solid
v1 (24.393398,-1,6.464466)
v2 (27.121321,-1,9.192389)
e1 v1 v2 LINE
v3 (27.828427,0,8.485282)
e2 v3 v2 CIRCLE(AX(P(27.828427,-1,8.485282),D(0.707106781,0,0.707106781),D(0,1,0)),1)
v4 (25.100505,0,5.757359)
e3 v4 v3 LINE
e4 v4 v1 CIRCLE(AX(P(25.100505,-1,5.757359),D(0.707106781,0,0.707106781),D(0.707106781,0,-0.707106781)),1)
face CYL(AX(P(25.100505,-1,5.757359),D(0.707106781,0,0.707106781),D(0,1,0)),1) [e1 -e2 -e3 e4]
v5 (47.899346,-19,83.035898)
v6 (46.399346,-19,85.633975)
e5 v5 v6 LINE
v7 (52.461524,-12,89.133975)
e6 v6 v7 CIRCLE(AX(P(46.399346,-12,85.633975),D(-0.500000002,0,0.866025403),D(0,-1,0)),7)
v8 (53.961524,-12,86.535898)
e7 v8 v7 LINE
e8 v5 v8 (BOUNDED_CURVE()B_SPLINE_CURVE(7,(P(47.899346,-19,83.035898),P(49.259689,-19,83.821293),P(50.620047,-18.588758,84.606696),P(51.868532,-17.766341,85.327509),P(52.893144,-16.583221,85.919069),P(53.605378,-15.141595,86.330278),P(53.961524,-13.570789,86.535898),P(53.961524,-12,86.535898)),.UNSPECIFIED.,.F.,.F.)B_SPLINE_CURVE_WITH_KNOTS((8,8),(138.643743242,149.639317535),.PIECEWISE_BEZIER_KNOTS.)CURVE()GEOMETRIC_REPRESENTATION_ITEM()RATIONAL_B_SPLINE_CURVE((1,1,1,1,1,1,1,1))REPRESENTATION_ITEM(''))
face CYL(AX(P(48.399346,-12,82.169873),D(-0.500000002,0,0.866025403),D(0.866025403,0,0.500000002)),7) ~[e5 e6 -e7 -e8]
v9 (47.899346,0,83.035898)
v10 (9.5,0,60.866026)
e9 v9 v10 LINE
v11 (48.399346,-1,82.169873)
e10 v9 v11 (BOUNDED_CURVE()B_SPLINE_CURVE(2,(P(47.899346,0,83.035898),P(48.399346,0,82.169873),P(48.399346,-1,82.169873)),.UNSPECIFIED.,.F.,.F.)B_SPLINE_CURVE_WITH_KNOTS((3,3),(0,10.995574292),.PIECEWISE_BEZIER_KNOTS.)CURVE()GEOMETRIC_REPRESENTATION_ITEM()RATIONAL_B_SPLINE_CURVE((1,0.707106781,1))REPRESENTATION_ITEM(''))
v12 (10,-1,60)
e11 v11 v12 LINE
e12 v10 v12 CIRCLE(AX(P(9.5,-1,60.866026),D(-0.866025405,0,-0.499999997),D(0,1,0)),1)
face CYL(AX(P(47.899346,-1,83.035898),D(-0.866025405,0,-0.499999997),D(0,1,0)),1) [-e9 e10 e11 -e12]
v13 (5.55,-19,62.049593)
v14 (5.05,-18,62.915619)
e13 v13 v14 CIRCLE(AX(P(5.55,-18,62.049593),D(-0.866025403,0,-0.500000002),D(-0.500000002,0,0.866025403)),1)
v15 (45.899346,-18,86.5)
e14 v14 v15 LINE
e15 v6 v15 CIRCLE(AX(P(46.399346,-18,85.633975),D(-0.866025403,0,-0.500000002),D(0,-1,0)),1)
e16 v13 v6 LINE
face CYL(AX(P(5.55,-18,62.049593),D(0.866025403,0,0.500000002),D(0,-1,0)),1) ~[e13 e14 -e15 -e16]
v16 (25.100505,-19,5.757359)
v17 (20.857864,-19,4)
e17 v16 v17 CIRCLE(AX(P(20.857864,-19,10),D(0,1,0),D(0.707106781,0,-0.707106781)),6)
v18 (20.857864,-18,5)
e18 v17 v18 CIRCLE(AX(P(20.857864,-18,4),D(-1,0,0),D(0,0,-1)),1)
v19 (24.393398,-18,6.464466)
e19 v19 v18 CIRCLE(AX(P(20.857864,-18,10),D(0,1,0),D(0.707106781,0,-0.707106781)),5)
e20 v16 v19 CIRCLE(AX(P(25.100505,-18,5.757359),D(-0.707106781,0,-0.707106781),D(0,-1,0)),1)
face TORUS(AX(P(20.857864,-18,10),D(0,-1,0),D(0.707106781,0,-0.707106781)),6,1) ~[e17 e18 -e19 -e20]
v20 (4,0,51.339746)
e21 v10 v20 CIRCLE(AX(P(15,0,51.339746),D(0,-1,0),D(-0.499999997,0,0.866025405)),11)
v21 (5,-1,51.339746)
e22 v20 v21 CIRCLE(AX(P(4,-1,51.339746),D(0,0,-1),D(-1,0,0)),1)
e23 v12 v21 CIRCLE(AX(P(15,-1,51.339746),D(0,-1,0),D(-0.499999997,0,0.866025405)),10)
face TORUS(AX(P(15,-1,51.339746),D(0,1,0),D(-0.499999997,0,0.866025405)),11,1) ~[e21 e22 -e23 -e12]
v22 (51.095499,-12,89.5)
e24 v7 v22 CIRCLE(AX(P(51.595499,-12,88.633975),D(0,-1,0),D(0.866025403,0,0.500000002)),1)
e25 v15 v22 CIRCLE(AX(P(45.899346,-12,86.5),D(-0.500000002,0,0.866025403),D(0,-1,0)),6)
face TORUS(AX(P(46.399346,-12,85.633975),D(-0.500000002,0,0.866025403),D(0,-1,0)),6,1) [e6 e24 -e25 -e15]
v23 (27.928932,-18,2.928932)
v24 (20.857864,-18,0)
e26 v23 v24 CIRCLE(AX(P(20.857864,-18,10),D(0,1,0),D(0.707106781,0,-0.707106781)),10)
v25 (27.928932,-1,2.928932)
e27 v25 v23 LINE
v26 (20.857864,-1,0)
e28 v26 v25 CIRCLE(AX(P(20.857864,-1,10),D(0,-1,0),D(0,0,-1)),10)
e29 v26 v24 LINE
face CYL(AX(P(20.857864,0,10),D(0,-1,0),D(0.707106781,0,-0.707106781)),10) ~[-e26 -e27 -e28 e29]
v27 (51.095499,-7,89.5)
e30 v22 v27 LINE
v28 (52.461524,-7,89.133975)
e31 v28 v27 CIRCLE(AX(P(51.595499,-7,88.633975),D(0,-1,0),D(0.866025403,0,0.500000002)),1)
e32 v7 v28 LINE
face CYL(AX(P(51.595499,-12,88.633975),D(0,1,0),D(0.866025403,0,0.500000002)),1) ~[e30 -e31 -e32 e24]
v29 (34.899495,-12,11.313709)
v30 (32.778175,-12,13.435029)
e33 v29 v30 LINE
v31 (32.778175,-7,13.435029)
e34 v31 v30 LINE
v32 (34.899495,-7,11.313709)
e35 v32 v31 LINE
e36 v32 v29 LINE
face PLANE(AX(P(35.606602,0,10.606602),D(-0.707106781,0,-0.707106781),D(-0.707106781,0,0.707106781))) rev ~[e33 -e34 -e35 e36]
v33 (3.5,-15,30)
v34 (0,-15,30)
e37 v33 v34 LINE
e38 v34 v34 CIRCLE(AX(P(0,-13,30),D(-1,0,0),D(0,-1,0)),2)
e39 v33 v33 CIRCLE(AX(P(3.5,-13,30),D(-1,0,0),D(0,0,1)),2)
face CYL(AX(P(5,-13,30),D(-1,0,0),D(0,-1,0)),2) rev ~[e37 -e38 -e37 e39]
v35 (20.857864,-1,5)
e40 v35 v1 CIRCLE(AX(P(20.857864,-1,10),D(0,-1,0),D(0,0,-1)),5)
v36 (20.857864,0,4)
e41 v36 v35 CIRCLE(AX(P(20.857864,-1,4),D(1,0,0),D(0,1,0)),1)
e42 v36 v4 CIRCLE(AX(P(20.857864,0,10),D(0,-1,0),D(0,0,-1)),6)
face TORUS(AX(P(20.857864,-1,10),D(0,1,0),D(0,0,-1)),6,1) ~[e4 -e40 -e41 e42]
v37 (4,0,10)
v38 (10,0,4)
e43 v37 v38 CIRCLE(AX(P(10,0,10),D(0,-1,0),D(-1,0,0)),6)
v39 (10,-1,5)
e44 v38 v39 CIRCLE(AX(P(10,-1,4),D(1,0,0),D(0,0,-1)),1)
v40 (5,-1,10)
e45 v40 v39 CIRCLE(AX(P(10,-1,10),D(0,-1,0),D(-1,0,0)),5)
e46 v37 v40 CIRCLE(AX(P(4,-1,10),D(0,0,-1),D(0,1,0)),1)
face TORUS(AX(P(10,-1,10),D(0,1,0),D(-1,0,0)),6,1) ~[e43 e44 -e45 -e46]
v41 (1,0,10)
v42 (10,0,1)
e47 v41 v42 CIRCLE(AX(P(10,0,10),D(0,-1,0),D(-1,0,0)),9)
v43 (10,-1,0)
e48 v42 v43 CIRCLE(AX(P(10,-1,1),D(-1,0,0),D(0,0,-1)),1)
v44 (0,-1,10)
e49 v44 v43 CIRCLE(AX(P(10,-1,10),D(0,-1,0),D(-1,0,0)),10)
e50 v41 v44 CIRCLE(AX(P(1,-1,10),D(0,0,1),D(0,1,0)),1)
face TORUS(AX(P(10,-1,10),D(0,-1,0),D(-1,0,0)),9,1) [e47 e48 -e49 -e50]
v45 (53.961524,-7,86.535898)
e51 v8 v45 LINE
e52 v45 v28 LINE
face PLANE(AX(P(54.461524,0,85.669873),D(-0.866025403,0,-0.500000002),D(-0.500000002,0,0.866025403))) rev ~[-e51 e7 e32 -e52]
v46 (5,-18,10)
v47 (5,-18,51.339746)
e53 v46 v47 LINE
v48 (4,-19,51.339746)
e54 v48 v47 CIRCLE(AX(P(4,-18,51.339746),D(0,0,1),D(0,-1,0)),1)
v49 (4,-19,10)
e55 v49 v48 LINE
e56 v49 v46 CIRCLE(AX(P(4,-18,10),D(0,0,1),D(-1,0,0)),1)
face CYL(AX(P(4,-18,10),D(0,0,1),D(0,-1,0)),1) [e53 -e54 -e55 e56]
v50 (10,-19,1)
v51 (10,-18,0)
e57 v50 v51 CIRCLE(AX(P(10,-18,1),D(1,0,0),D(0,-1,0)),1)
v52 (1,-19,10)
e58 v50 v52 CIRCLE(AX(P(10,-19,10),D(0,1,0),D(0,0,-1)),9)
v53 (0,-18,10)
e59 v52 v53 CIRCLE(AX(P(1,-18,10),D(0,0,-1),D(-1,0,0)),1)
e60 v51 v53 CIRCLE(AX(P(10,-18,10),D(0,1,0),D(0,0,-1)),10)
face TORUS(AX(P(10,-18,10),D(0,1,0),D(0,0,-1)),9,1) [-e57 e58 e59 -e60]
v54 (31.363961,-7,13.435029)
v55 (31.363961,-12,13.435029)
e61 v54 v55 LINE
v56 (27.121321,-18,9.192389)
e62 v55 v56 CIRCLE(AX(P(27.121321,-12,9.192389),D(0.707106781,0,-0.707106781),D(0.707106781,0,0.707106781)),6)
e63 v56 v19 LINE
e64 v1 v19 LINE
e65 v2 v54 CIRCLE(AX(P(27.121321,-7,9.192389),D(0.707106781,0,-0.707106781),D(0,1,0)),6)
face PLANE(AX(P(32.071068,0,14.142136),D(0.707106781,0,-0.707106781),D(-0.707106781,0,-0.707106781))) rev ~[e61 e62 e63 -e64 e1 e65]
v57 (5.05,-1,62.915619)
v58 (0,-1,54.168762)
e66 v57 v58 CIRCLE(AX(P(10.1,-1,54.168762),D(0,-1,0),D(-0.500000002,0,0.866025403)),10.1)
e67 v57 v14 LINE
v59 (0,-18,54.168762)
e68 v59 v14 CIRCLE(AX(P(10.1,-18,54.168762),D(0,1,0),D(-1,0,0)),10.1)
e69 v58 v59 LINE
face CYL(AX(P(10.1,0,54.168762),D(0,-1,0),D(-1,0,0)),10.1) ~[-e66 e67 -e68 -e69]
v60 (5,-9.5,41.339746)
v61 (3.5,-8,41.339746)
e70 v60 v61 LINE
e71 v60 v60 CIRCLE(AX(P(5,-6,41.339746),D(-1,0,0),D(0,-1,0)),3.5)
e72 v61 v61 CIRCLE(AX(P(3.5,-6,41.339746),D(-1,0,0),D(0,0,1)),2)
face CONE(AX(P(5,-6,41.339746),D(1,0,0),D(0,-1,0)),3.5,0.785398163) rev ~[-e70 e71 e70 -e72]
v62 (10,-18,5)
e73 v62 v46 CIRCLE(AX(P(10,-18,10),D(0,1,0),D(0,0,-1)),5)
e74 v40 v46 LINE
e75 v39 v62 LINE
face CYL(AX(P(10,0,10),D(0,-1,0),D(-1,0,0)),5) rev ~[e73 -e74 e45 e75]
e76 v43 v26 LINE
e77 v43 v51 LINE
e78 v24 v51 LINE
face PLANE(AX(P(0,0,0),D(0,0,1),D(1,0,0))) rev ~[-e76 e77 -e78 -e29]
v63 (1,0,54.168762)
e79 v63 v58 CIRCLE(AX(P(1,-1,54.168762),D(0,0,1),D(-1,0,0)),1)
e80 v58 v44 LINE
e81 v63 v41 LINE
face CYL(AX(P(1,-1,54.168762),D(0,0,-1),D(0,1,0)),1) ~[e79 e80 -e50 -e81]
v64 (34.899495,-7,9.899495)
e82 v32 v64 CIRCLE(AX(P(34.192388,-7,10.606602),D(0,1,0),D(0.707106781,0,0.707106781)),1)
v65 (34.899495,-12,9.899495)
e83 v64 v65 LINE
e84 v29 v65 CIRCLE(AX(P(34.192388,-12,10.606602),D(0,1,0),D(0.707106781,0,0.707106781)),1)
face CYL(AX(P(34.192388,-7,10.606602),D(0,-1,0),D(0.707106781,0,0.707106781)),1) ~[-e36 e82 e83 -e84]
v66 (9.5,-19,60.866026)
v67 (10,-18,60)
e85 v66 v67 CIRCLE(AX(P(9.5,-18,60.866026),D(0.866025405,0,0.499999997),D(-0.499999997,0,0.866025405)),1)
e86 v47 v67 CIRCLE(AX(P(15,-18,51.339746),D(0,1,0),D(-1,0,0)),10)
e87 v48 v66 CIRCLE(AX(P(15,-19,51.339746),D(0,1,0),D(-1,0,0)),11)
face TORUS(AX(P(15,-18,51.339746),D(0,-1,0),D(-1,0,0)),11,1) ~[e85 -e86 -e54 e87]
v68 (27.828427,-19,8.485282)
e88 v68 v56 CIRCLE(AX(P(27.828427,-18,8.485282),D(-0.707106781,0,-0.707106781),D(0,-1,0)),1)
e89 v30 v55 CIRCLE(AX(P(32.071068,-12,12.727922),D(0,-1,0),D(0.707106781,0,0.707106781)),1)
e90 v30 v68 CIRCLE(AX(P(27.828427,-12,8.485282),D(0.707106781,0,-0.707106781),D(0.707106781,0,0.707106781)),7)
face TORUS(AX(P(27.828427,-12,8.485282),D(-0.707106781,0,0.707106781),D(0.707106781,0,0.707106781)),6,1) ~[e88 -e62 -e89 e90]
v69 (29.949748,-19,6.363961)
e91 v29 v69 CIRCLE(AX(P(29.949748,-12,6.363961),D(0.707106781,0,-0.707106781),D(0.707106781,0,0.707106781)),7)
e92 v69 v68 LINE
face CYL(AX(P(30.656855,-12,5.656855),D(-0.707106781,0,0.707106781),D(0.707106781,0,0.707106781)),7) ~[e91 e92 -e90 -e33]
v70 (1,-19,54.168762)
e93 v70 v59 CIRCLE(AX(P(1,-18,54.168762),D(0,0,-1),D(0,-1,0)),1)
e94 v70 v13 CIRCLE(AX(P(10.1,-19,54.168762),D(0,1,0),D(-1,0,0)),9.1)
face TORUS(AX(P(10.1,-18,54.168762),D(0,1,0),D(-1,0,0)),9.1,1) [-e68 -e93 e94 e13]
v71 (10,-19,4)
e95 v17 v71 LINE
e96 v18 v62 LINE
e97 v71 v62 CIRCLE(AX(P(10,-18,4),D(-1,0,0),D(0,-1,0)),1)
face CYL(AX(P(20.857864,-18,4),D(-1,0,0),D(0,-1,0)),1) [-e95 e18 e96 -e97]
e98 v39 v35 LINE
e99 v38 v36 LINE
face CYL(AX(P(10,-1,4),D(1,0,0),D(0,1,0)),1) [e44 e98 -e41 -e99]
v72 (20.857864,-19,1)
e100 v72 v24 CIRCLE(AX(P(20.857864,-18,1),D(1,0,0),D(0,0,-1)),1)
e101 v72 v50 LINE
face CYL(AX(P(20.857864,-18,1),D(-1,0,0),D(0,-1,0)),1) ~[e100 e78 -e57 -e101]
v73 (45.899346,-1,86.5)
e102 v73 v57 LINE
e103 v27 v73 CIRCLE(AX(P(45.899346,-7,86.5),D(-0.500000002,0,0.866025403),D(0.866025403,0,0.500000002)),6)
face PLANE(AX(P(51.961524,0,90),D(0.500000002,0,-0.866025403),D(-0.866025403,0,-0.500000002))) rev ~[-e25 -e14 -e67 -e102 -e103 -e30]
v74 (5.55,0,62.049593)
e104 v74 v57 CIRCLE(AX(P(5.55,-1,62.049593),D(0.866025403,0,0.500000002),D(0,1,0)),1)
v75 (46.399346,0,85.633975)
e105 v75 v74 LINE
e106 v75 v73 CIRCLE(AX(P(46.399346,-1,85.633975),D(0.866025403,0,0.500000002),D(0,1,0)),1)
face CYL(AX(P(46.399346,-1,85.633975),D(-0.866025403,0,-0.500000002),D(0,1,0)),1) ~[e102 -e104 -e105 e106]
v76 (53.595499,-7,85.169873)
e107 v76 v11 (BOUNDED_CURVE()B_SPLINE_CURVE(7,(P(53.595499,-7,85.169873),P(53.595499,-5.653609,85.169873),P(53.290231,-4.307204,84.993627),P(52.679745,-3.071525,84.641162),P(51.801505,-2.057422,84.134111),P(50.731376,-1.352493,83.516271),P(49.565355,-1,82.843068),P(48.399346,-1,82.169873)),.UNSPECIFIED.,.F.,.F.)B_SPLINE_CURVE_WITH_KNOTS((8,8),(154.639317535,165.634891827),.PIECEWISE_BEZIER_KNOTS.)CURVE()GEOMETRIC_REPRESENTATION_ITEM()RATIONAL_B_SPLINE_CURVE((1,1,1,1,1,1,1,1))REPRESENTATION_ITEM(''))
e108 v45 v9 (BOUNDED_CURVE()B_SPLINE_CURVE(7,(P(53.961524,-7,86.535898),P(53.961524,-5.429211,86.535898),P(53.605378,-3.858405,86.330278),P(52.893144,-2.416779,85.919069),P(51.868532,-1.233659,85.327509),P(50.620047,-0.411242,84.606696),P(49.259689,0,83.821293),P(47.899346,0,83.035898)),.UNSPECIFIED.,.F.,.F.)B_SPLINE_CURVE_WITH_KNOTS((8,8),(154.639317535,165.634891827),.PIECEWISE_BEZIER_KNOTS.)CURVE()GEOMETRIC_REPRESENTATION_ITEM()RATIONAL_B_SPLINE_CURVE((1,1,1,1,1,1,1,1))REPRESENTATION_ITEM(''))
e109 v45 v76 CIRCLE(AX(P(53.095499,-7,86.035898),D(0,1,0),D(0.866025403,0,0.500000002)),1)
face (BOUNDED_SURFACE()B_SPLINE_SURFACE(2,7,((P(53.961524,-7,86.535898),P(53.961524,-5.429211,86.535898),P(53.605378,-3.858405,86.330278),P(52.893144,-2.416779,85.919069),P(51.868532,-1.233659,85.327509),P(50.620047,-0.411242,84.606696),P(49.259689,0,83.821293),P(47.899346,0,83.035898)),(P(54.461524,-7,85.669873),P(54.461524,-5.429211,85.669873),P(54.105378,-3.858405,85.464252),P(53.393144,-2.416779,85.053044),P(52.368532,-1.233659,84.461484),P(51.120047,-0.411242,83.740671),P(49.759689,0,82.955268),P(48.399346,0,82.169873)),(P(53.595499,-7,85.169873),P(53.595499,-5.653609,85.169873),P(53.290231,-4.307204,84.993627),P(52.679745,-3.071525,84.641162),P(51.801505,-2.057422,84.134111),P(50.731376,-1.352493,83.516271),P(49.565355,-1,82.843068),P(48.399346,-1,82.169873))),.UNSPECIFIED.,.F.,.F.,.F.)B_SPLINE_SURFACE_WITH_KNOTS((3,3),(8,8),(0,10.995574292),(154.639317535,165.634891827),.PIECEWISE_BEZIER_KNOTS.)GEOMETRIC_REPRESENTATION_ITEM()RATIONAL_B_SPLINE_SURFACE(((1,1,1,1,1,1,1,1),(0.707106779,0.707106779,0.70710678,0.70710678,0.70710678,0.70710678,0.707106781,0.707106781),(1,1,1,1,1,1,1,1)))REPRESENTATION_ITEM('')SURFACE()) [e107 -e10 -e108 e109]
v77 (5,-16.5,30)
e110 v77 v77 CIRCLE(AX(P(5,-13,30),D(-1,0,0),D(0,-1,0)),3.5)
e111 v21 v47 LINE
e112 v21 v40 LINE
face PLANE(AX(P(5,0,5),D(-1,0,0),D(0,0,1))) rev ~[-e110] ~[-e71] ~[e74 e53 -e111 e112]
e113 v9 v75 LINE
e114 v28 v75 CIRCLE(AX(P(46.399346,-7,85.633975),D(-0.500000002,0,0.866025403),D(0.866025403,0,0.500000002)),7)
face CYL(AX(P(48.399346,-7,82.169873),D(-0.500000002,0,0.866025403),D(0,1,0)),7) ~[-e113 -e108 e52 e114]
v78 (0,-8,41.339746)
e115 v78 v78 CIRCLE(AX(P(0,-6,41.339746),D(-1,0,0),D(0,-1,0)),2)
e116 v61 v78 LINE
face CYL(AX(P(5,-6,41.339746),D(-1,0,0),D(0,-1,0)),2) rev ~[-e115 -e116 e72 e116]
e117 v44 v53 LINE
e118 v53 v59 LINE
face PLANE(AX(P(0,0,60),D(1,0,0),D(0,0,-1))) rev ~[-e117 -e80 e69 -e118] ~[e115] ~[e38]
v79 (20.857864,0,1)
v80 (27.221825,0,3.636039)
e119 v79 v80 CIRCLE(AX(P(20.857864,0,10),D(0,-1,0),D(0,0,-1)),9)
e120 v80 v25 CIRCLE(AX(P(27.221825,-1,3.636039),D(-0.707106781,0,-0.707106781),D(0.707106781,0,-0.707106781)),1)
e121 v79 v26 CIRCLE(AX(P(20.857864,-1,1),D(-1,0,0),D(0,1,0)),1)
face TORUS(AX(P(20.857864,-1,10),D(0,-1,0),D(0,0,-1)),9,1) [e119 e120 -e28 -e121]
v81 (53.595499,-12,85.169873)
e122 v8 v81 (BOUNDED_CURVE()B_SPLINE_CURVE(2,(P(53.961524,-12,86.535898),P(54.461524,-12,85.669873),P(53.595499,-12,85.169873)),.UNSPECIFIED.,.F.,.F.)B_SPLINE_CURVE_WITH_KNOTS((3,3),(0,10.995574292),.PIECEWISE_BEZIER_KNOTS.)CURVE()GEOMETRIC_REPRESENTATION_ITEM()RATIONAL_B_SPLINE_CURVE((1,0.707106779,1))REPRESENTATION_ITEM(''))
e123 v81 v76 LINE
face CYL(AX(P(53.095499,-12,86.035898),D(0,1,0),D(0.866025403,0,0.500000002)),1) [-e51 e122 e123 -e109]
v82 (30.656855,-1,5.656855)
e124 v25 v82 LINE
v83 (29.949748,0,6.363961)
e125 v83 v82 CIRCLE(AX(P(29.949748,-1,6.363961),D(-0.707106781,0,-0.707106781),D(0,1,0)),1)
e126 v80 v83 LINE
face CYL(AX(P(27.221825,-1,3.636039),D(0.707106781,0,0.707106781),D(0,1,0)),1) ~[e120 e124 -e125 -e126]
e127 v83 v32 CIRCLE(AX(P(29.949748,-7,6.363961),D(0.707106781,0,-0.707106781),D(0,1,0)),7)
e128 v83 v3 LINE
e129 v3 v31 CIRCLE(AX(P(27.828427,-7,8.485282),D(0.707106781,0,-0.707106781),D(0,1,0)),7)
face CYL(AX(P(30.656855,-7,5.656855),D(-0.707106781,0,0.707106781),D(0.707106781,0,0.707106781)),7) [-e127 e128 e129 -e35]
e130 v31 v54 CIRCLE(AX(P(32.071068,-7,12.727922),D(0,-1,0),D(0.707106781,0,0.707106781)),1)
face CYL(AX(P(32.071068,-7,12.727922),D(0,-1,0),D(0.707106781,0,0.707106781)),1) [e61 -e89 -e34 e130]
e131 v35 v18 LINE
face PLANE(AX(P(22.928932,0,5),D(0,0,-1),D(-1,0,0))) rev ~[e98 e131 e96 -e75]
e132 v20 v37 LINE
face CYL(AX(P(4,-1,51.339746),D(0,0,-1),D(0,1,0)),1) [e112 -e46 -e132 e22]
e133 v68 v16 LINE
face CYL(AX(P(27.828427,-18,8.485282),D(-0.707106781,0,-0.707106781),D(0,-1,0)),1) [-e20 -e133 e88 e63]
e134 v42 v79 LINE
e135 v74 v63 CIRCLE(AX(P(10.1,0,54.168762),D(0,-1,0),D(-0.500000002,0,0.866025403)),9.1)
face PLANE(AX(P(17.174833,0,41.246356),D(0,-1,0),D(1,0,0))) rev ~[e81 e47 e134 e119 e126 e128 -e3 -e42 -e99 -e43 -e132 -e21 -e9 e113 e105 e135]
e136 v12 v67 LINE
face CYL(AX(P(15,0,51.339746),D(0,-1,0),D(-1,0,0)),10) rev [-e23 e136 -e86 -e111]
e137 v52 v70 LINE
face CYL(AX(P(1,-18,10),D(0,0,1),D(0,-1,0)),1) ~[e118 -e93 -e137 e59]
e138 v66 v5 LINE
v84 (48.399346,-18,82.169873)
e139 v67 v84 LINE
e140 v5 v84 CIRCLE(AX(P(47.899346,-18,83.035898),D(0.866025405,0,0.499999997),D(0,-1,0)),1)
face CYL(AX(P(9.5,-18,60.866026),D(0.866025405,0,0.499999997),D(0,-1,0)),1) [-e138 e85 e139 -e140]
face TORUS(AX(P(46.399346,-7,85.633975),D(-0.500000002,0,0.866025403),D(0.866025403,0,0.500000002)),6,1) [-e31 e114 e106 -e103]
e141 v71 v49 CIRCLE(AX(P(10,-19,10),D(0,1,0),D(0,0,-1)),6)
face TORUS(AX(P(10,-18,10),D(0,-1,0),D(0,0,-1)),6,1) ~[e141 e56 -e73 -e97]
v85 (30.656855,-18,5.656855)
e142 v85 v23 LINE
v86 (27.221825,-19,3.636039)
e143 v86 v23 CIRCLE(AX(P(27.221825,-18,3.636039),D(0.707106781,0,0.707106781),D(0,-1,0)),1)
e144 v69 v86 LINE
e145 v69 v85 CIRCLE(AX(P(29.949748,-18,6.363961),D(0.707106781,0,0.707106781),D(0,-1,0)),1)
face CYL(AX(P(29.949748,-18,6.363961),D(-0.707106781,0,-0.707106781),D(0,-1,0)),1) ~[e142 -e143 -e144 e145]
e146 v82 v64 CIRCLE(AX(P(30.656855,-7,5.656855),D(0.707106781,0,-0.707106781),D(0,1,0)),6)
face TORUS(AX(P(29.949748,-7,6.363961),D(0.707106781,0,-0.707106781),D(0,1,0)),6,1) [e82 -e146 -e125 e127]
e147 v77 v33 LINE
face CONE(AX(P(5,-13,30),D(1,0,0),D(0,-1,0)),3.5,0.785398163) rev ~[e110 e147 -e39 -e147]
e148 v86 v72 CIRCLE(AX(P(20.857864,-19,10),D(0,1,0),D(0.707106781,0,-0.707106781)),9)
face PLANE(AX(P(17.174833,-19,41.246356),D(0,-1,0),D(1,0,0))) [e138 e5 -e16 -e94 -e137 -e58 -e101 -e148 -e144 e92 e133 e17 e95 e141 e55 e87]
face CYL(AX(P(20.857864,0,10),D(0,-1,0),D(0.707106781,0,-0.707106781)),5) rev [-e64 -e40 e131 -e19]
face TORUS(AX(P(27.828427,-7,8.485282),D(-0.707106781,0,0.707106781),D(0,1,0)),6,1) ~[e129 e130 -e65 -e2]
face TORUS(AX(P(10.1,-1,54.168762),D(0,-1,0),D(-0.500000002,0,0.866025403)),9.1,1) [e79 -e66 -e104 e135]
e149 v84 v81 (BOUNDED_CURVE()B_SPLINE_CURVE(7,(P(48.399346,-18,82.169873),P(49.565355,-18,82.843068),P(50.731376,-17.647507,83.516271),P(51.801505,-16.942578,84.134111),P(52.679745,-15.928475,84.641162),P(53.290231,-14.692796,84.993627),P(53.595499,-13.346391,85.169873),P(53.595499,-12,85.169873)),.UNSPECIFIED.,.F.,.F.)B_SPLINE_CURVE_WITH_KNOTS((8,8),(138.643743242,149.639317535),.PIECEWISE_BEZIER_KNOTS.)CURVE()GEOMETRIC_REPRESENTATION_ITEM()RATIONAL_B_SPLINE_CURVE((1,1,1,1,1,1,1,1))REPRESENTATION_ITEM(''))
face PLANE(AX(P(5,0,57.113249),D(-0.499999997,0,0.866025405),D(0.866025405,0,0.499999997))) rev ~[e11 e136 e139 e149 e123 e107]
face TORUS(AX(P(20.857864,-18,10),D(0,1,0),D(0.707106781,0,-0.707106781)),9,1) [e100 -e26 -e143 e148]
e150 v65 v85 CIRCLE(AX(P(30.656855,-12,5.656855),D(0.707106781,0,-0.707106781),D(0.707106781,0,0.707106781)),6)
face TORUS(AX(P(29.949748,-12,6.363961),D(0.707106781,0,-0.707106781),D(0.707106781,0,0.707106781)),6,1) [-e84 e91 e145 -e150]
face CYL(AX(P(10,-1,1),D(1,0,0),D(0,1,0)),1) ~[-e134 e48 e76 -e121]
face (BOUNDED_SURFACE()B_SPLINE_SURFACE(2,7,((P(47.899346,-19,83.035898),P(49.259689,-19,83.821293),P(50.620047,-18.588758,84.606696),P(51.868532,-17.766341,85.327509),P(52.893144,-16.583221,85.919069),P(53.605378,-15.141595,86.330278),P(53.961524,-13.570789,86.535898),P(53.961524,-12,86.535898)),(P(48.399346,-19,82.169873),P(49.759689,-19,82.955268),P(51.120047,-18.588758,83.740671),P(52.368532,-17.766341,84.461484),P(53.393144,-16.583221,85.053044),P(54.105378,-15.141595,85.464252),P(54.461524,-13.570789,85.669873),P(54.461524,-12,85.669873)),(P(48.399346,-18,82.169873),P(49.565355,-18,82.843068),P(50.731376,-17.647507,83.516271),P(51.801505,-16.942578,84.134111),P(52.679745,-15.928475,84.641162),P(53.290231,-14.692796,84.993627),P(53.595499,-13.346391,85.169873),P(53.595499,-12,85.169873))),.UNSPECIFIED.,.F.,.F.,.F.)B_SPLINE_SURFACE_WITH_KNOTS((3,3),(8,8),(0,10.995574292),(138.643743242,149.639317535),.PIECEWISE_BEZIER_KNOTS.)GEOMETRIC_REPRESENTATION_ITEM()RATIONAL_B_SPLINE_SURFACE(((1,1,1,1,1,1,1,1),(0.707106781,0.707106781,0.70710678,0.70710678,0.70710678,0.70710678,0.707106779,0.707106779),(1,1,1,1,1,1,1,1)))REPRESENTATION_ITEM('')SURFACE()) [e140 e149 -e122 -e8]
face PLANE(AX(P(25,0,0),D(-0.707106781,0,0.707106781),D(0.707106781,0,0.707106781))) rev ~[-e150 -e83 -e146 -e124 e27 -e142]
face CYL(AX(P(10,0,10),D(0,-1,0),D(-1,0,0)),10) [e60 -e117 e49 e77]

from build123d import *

# Parameters (mm, degrees)
F1_DEPTH        = 19
F2_R            = 10
F3_R            = 5
F4_R            = 10
F5_R            = 10.1
F6_R            = 5
F7_R            = 10
F8_R            = 7
F9_R            = 7
F10_R           = 7
F11_R           = 1
F12_R           = 1
F14_D           = 4
F14_CSINK_D     = 7
F14_CSINK_ANGLE = 90


with BuildPart() as f1:
    # F0 (on Front) → F1 (new body)
    with BuildSketch(Plane.XZ):
        Polygon((0, 60), (0, 0), (25, 0), (35.606602, 10.606602), (32.071068, 14.142136), (22.928932, 5), (5, 5), (5, 57.113249), (54.461524, 85.669873), (51.961524, 90), align=None)
    extrude(amount=F1_DEPTH)

    # F2
    f2_edges = [f1.edges().sort_by_distance(p)[0] for p in [
        (5, -9.5, 57.113249),
    ]]
    fillet(f2_edges, radius=F2_R)

    # F3
    f3_edges = [f1.edges().sort_by_distance(p)[0] for p in [
        (5, -9.5, 5),
    ]]
    fillet(f3_edges, radius=F3_R)

    # F4
    f4_edges = [f1.edges().sort_by_distance(p)[0] for p in [
        (0, -9.5, 0),
    ]]
    fillet(f4_edges, radius=F4_R)

    # F5
    f5_edges = [f1.edges().sort_by_distance(p)[0] for p in [
        (0, -9.5, 60),
    ]]
    fillet(f5_edges, radius=F5_R)

    # F6
    f6_edges = [f1.edges().sort_by_distance(p)[0] for p in [
        (22.928932, -9.5, 5),
    ]]
    fillet(f6_edges, radius=F6_R)

    # F7
    f7_edges = [f1.edges().sort_by_distance(p)[0] for p in [
        (25, -9.5, 0),
    ]]
    fillet(f7_edges, radius=F7_R)

    # F8
    f8_edges = [f1.edges().sort_by_distance(p)[0] for p in [
        (53.211524, -19, 87.834936),
        (53.211524, 0, 87.834936),
    ]]
    fillet(f8_edges, radius=F8_R)

    # F9
    f9_edges = [f1.edges().sort_by_distance(p)[0] for p in [
        (33.838835, -19, 12.374369),
    ]]
    fillet(f9_edges, radius=F9_R)

    # F10
    f10_edges = [f1.edges().sort_by_distance(p)[0] for p in [
        (33.838835, 0, 12.374369),
    ]]
    fillet(f10_edges, radius=F10_R)

    # F11
    f11_edges = [f1.edges().sort_by_distance(p)[0] for p in [
        (25.474673, 0, 74.707809),
        (50.185953, -2.050253, 88.974874),
        (5.05, -9.5, 62.915619),
        (51.961524, -9.5, 90),
        (25.474673, -19, 74.707809),
        (50.185953, -16.949747, 88.974874),
    ]]
    fillet(f11_edges, radius=F11_R)

    # F12
    f12_edges = [f1.edges().sort_by_distance(p)[0] for p in [
        (32.071068, -9.5, 14.142136),
        (30.62132, -2.050253, 12.692388),
        (30.62132, -16.949747, 12.692388),
        (25.757359, 0, 7.828427),
        (25.757359, -19, 7.828427),
        (24.393398, -9.5, 6.464466),
    ]]
    fillet(f12_edges, radius=F12_R)

    # F14 (through all)
    with Locations(Plane.YZ.offset(5)):
        with Locations((-6, 41.339746), (-13, 30)):
            CounterSinkHole(F14_D / 2, F14_CSINK_D / 2, counter_sink_angle=F14_CSINK_ANGLE)


solid = f1.part
